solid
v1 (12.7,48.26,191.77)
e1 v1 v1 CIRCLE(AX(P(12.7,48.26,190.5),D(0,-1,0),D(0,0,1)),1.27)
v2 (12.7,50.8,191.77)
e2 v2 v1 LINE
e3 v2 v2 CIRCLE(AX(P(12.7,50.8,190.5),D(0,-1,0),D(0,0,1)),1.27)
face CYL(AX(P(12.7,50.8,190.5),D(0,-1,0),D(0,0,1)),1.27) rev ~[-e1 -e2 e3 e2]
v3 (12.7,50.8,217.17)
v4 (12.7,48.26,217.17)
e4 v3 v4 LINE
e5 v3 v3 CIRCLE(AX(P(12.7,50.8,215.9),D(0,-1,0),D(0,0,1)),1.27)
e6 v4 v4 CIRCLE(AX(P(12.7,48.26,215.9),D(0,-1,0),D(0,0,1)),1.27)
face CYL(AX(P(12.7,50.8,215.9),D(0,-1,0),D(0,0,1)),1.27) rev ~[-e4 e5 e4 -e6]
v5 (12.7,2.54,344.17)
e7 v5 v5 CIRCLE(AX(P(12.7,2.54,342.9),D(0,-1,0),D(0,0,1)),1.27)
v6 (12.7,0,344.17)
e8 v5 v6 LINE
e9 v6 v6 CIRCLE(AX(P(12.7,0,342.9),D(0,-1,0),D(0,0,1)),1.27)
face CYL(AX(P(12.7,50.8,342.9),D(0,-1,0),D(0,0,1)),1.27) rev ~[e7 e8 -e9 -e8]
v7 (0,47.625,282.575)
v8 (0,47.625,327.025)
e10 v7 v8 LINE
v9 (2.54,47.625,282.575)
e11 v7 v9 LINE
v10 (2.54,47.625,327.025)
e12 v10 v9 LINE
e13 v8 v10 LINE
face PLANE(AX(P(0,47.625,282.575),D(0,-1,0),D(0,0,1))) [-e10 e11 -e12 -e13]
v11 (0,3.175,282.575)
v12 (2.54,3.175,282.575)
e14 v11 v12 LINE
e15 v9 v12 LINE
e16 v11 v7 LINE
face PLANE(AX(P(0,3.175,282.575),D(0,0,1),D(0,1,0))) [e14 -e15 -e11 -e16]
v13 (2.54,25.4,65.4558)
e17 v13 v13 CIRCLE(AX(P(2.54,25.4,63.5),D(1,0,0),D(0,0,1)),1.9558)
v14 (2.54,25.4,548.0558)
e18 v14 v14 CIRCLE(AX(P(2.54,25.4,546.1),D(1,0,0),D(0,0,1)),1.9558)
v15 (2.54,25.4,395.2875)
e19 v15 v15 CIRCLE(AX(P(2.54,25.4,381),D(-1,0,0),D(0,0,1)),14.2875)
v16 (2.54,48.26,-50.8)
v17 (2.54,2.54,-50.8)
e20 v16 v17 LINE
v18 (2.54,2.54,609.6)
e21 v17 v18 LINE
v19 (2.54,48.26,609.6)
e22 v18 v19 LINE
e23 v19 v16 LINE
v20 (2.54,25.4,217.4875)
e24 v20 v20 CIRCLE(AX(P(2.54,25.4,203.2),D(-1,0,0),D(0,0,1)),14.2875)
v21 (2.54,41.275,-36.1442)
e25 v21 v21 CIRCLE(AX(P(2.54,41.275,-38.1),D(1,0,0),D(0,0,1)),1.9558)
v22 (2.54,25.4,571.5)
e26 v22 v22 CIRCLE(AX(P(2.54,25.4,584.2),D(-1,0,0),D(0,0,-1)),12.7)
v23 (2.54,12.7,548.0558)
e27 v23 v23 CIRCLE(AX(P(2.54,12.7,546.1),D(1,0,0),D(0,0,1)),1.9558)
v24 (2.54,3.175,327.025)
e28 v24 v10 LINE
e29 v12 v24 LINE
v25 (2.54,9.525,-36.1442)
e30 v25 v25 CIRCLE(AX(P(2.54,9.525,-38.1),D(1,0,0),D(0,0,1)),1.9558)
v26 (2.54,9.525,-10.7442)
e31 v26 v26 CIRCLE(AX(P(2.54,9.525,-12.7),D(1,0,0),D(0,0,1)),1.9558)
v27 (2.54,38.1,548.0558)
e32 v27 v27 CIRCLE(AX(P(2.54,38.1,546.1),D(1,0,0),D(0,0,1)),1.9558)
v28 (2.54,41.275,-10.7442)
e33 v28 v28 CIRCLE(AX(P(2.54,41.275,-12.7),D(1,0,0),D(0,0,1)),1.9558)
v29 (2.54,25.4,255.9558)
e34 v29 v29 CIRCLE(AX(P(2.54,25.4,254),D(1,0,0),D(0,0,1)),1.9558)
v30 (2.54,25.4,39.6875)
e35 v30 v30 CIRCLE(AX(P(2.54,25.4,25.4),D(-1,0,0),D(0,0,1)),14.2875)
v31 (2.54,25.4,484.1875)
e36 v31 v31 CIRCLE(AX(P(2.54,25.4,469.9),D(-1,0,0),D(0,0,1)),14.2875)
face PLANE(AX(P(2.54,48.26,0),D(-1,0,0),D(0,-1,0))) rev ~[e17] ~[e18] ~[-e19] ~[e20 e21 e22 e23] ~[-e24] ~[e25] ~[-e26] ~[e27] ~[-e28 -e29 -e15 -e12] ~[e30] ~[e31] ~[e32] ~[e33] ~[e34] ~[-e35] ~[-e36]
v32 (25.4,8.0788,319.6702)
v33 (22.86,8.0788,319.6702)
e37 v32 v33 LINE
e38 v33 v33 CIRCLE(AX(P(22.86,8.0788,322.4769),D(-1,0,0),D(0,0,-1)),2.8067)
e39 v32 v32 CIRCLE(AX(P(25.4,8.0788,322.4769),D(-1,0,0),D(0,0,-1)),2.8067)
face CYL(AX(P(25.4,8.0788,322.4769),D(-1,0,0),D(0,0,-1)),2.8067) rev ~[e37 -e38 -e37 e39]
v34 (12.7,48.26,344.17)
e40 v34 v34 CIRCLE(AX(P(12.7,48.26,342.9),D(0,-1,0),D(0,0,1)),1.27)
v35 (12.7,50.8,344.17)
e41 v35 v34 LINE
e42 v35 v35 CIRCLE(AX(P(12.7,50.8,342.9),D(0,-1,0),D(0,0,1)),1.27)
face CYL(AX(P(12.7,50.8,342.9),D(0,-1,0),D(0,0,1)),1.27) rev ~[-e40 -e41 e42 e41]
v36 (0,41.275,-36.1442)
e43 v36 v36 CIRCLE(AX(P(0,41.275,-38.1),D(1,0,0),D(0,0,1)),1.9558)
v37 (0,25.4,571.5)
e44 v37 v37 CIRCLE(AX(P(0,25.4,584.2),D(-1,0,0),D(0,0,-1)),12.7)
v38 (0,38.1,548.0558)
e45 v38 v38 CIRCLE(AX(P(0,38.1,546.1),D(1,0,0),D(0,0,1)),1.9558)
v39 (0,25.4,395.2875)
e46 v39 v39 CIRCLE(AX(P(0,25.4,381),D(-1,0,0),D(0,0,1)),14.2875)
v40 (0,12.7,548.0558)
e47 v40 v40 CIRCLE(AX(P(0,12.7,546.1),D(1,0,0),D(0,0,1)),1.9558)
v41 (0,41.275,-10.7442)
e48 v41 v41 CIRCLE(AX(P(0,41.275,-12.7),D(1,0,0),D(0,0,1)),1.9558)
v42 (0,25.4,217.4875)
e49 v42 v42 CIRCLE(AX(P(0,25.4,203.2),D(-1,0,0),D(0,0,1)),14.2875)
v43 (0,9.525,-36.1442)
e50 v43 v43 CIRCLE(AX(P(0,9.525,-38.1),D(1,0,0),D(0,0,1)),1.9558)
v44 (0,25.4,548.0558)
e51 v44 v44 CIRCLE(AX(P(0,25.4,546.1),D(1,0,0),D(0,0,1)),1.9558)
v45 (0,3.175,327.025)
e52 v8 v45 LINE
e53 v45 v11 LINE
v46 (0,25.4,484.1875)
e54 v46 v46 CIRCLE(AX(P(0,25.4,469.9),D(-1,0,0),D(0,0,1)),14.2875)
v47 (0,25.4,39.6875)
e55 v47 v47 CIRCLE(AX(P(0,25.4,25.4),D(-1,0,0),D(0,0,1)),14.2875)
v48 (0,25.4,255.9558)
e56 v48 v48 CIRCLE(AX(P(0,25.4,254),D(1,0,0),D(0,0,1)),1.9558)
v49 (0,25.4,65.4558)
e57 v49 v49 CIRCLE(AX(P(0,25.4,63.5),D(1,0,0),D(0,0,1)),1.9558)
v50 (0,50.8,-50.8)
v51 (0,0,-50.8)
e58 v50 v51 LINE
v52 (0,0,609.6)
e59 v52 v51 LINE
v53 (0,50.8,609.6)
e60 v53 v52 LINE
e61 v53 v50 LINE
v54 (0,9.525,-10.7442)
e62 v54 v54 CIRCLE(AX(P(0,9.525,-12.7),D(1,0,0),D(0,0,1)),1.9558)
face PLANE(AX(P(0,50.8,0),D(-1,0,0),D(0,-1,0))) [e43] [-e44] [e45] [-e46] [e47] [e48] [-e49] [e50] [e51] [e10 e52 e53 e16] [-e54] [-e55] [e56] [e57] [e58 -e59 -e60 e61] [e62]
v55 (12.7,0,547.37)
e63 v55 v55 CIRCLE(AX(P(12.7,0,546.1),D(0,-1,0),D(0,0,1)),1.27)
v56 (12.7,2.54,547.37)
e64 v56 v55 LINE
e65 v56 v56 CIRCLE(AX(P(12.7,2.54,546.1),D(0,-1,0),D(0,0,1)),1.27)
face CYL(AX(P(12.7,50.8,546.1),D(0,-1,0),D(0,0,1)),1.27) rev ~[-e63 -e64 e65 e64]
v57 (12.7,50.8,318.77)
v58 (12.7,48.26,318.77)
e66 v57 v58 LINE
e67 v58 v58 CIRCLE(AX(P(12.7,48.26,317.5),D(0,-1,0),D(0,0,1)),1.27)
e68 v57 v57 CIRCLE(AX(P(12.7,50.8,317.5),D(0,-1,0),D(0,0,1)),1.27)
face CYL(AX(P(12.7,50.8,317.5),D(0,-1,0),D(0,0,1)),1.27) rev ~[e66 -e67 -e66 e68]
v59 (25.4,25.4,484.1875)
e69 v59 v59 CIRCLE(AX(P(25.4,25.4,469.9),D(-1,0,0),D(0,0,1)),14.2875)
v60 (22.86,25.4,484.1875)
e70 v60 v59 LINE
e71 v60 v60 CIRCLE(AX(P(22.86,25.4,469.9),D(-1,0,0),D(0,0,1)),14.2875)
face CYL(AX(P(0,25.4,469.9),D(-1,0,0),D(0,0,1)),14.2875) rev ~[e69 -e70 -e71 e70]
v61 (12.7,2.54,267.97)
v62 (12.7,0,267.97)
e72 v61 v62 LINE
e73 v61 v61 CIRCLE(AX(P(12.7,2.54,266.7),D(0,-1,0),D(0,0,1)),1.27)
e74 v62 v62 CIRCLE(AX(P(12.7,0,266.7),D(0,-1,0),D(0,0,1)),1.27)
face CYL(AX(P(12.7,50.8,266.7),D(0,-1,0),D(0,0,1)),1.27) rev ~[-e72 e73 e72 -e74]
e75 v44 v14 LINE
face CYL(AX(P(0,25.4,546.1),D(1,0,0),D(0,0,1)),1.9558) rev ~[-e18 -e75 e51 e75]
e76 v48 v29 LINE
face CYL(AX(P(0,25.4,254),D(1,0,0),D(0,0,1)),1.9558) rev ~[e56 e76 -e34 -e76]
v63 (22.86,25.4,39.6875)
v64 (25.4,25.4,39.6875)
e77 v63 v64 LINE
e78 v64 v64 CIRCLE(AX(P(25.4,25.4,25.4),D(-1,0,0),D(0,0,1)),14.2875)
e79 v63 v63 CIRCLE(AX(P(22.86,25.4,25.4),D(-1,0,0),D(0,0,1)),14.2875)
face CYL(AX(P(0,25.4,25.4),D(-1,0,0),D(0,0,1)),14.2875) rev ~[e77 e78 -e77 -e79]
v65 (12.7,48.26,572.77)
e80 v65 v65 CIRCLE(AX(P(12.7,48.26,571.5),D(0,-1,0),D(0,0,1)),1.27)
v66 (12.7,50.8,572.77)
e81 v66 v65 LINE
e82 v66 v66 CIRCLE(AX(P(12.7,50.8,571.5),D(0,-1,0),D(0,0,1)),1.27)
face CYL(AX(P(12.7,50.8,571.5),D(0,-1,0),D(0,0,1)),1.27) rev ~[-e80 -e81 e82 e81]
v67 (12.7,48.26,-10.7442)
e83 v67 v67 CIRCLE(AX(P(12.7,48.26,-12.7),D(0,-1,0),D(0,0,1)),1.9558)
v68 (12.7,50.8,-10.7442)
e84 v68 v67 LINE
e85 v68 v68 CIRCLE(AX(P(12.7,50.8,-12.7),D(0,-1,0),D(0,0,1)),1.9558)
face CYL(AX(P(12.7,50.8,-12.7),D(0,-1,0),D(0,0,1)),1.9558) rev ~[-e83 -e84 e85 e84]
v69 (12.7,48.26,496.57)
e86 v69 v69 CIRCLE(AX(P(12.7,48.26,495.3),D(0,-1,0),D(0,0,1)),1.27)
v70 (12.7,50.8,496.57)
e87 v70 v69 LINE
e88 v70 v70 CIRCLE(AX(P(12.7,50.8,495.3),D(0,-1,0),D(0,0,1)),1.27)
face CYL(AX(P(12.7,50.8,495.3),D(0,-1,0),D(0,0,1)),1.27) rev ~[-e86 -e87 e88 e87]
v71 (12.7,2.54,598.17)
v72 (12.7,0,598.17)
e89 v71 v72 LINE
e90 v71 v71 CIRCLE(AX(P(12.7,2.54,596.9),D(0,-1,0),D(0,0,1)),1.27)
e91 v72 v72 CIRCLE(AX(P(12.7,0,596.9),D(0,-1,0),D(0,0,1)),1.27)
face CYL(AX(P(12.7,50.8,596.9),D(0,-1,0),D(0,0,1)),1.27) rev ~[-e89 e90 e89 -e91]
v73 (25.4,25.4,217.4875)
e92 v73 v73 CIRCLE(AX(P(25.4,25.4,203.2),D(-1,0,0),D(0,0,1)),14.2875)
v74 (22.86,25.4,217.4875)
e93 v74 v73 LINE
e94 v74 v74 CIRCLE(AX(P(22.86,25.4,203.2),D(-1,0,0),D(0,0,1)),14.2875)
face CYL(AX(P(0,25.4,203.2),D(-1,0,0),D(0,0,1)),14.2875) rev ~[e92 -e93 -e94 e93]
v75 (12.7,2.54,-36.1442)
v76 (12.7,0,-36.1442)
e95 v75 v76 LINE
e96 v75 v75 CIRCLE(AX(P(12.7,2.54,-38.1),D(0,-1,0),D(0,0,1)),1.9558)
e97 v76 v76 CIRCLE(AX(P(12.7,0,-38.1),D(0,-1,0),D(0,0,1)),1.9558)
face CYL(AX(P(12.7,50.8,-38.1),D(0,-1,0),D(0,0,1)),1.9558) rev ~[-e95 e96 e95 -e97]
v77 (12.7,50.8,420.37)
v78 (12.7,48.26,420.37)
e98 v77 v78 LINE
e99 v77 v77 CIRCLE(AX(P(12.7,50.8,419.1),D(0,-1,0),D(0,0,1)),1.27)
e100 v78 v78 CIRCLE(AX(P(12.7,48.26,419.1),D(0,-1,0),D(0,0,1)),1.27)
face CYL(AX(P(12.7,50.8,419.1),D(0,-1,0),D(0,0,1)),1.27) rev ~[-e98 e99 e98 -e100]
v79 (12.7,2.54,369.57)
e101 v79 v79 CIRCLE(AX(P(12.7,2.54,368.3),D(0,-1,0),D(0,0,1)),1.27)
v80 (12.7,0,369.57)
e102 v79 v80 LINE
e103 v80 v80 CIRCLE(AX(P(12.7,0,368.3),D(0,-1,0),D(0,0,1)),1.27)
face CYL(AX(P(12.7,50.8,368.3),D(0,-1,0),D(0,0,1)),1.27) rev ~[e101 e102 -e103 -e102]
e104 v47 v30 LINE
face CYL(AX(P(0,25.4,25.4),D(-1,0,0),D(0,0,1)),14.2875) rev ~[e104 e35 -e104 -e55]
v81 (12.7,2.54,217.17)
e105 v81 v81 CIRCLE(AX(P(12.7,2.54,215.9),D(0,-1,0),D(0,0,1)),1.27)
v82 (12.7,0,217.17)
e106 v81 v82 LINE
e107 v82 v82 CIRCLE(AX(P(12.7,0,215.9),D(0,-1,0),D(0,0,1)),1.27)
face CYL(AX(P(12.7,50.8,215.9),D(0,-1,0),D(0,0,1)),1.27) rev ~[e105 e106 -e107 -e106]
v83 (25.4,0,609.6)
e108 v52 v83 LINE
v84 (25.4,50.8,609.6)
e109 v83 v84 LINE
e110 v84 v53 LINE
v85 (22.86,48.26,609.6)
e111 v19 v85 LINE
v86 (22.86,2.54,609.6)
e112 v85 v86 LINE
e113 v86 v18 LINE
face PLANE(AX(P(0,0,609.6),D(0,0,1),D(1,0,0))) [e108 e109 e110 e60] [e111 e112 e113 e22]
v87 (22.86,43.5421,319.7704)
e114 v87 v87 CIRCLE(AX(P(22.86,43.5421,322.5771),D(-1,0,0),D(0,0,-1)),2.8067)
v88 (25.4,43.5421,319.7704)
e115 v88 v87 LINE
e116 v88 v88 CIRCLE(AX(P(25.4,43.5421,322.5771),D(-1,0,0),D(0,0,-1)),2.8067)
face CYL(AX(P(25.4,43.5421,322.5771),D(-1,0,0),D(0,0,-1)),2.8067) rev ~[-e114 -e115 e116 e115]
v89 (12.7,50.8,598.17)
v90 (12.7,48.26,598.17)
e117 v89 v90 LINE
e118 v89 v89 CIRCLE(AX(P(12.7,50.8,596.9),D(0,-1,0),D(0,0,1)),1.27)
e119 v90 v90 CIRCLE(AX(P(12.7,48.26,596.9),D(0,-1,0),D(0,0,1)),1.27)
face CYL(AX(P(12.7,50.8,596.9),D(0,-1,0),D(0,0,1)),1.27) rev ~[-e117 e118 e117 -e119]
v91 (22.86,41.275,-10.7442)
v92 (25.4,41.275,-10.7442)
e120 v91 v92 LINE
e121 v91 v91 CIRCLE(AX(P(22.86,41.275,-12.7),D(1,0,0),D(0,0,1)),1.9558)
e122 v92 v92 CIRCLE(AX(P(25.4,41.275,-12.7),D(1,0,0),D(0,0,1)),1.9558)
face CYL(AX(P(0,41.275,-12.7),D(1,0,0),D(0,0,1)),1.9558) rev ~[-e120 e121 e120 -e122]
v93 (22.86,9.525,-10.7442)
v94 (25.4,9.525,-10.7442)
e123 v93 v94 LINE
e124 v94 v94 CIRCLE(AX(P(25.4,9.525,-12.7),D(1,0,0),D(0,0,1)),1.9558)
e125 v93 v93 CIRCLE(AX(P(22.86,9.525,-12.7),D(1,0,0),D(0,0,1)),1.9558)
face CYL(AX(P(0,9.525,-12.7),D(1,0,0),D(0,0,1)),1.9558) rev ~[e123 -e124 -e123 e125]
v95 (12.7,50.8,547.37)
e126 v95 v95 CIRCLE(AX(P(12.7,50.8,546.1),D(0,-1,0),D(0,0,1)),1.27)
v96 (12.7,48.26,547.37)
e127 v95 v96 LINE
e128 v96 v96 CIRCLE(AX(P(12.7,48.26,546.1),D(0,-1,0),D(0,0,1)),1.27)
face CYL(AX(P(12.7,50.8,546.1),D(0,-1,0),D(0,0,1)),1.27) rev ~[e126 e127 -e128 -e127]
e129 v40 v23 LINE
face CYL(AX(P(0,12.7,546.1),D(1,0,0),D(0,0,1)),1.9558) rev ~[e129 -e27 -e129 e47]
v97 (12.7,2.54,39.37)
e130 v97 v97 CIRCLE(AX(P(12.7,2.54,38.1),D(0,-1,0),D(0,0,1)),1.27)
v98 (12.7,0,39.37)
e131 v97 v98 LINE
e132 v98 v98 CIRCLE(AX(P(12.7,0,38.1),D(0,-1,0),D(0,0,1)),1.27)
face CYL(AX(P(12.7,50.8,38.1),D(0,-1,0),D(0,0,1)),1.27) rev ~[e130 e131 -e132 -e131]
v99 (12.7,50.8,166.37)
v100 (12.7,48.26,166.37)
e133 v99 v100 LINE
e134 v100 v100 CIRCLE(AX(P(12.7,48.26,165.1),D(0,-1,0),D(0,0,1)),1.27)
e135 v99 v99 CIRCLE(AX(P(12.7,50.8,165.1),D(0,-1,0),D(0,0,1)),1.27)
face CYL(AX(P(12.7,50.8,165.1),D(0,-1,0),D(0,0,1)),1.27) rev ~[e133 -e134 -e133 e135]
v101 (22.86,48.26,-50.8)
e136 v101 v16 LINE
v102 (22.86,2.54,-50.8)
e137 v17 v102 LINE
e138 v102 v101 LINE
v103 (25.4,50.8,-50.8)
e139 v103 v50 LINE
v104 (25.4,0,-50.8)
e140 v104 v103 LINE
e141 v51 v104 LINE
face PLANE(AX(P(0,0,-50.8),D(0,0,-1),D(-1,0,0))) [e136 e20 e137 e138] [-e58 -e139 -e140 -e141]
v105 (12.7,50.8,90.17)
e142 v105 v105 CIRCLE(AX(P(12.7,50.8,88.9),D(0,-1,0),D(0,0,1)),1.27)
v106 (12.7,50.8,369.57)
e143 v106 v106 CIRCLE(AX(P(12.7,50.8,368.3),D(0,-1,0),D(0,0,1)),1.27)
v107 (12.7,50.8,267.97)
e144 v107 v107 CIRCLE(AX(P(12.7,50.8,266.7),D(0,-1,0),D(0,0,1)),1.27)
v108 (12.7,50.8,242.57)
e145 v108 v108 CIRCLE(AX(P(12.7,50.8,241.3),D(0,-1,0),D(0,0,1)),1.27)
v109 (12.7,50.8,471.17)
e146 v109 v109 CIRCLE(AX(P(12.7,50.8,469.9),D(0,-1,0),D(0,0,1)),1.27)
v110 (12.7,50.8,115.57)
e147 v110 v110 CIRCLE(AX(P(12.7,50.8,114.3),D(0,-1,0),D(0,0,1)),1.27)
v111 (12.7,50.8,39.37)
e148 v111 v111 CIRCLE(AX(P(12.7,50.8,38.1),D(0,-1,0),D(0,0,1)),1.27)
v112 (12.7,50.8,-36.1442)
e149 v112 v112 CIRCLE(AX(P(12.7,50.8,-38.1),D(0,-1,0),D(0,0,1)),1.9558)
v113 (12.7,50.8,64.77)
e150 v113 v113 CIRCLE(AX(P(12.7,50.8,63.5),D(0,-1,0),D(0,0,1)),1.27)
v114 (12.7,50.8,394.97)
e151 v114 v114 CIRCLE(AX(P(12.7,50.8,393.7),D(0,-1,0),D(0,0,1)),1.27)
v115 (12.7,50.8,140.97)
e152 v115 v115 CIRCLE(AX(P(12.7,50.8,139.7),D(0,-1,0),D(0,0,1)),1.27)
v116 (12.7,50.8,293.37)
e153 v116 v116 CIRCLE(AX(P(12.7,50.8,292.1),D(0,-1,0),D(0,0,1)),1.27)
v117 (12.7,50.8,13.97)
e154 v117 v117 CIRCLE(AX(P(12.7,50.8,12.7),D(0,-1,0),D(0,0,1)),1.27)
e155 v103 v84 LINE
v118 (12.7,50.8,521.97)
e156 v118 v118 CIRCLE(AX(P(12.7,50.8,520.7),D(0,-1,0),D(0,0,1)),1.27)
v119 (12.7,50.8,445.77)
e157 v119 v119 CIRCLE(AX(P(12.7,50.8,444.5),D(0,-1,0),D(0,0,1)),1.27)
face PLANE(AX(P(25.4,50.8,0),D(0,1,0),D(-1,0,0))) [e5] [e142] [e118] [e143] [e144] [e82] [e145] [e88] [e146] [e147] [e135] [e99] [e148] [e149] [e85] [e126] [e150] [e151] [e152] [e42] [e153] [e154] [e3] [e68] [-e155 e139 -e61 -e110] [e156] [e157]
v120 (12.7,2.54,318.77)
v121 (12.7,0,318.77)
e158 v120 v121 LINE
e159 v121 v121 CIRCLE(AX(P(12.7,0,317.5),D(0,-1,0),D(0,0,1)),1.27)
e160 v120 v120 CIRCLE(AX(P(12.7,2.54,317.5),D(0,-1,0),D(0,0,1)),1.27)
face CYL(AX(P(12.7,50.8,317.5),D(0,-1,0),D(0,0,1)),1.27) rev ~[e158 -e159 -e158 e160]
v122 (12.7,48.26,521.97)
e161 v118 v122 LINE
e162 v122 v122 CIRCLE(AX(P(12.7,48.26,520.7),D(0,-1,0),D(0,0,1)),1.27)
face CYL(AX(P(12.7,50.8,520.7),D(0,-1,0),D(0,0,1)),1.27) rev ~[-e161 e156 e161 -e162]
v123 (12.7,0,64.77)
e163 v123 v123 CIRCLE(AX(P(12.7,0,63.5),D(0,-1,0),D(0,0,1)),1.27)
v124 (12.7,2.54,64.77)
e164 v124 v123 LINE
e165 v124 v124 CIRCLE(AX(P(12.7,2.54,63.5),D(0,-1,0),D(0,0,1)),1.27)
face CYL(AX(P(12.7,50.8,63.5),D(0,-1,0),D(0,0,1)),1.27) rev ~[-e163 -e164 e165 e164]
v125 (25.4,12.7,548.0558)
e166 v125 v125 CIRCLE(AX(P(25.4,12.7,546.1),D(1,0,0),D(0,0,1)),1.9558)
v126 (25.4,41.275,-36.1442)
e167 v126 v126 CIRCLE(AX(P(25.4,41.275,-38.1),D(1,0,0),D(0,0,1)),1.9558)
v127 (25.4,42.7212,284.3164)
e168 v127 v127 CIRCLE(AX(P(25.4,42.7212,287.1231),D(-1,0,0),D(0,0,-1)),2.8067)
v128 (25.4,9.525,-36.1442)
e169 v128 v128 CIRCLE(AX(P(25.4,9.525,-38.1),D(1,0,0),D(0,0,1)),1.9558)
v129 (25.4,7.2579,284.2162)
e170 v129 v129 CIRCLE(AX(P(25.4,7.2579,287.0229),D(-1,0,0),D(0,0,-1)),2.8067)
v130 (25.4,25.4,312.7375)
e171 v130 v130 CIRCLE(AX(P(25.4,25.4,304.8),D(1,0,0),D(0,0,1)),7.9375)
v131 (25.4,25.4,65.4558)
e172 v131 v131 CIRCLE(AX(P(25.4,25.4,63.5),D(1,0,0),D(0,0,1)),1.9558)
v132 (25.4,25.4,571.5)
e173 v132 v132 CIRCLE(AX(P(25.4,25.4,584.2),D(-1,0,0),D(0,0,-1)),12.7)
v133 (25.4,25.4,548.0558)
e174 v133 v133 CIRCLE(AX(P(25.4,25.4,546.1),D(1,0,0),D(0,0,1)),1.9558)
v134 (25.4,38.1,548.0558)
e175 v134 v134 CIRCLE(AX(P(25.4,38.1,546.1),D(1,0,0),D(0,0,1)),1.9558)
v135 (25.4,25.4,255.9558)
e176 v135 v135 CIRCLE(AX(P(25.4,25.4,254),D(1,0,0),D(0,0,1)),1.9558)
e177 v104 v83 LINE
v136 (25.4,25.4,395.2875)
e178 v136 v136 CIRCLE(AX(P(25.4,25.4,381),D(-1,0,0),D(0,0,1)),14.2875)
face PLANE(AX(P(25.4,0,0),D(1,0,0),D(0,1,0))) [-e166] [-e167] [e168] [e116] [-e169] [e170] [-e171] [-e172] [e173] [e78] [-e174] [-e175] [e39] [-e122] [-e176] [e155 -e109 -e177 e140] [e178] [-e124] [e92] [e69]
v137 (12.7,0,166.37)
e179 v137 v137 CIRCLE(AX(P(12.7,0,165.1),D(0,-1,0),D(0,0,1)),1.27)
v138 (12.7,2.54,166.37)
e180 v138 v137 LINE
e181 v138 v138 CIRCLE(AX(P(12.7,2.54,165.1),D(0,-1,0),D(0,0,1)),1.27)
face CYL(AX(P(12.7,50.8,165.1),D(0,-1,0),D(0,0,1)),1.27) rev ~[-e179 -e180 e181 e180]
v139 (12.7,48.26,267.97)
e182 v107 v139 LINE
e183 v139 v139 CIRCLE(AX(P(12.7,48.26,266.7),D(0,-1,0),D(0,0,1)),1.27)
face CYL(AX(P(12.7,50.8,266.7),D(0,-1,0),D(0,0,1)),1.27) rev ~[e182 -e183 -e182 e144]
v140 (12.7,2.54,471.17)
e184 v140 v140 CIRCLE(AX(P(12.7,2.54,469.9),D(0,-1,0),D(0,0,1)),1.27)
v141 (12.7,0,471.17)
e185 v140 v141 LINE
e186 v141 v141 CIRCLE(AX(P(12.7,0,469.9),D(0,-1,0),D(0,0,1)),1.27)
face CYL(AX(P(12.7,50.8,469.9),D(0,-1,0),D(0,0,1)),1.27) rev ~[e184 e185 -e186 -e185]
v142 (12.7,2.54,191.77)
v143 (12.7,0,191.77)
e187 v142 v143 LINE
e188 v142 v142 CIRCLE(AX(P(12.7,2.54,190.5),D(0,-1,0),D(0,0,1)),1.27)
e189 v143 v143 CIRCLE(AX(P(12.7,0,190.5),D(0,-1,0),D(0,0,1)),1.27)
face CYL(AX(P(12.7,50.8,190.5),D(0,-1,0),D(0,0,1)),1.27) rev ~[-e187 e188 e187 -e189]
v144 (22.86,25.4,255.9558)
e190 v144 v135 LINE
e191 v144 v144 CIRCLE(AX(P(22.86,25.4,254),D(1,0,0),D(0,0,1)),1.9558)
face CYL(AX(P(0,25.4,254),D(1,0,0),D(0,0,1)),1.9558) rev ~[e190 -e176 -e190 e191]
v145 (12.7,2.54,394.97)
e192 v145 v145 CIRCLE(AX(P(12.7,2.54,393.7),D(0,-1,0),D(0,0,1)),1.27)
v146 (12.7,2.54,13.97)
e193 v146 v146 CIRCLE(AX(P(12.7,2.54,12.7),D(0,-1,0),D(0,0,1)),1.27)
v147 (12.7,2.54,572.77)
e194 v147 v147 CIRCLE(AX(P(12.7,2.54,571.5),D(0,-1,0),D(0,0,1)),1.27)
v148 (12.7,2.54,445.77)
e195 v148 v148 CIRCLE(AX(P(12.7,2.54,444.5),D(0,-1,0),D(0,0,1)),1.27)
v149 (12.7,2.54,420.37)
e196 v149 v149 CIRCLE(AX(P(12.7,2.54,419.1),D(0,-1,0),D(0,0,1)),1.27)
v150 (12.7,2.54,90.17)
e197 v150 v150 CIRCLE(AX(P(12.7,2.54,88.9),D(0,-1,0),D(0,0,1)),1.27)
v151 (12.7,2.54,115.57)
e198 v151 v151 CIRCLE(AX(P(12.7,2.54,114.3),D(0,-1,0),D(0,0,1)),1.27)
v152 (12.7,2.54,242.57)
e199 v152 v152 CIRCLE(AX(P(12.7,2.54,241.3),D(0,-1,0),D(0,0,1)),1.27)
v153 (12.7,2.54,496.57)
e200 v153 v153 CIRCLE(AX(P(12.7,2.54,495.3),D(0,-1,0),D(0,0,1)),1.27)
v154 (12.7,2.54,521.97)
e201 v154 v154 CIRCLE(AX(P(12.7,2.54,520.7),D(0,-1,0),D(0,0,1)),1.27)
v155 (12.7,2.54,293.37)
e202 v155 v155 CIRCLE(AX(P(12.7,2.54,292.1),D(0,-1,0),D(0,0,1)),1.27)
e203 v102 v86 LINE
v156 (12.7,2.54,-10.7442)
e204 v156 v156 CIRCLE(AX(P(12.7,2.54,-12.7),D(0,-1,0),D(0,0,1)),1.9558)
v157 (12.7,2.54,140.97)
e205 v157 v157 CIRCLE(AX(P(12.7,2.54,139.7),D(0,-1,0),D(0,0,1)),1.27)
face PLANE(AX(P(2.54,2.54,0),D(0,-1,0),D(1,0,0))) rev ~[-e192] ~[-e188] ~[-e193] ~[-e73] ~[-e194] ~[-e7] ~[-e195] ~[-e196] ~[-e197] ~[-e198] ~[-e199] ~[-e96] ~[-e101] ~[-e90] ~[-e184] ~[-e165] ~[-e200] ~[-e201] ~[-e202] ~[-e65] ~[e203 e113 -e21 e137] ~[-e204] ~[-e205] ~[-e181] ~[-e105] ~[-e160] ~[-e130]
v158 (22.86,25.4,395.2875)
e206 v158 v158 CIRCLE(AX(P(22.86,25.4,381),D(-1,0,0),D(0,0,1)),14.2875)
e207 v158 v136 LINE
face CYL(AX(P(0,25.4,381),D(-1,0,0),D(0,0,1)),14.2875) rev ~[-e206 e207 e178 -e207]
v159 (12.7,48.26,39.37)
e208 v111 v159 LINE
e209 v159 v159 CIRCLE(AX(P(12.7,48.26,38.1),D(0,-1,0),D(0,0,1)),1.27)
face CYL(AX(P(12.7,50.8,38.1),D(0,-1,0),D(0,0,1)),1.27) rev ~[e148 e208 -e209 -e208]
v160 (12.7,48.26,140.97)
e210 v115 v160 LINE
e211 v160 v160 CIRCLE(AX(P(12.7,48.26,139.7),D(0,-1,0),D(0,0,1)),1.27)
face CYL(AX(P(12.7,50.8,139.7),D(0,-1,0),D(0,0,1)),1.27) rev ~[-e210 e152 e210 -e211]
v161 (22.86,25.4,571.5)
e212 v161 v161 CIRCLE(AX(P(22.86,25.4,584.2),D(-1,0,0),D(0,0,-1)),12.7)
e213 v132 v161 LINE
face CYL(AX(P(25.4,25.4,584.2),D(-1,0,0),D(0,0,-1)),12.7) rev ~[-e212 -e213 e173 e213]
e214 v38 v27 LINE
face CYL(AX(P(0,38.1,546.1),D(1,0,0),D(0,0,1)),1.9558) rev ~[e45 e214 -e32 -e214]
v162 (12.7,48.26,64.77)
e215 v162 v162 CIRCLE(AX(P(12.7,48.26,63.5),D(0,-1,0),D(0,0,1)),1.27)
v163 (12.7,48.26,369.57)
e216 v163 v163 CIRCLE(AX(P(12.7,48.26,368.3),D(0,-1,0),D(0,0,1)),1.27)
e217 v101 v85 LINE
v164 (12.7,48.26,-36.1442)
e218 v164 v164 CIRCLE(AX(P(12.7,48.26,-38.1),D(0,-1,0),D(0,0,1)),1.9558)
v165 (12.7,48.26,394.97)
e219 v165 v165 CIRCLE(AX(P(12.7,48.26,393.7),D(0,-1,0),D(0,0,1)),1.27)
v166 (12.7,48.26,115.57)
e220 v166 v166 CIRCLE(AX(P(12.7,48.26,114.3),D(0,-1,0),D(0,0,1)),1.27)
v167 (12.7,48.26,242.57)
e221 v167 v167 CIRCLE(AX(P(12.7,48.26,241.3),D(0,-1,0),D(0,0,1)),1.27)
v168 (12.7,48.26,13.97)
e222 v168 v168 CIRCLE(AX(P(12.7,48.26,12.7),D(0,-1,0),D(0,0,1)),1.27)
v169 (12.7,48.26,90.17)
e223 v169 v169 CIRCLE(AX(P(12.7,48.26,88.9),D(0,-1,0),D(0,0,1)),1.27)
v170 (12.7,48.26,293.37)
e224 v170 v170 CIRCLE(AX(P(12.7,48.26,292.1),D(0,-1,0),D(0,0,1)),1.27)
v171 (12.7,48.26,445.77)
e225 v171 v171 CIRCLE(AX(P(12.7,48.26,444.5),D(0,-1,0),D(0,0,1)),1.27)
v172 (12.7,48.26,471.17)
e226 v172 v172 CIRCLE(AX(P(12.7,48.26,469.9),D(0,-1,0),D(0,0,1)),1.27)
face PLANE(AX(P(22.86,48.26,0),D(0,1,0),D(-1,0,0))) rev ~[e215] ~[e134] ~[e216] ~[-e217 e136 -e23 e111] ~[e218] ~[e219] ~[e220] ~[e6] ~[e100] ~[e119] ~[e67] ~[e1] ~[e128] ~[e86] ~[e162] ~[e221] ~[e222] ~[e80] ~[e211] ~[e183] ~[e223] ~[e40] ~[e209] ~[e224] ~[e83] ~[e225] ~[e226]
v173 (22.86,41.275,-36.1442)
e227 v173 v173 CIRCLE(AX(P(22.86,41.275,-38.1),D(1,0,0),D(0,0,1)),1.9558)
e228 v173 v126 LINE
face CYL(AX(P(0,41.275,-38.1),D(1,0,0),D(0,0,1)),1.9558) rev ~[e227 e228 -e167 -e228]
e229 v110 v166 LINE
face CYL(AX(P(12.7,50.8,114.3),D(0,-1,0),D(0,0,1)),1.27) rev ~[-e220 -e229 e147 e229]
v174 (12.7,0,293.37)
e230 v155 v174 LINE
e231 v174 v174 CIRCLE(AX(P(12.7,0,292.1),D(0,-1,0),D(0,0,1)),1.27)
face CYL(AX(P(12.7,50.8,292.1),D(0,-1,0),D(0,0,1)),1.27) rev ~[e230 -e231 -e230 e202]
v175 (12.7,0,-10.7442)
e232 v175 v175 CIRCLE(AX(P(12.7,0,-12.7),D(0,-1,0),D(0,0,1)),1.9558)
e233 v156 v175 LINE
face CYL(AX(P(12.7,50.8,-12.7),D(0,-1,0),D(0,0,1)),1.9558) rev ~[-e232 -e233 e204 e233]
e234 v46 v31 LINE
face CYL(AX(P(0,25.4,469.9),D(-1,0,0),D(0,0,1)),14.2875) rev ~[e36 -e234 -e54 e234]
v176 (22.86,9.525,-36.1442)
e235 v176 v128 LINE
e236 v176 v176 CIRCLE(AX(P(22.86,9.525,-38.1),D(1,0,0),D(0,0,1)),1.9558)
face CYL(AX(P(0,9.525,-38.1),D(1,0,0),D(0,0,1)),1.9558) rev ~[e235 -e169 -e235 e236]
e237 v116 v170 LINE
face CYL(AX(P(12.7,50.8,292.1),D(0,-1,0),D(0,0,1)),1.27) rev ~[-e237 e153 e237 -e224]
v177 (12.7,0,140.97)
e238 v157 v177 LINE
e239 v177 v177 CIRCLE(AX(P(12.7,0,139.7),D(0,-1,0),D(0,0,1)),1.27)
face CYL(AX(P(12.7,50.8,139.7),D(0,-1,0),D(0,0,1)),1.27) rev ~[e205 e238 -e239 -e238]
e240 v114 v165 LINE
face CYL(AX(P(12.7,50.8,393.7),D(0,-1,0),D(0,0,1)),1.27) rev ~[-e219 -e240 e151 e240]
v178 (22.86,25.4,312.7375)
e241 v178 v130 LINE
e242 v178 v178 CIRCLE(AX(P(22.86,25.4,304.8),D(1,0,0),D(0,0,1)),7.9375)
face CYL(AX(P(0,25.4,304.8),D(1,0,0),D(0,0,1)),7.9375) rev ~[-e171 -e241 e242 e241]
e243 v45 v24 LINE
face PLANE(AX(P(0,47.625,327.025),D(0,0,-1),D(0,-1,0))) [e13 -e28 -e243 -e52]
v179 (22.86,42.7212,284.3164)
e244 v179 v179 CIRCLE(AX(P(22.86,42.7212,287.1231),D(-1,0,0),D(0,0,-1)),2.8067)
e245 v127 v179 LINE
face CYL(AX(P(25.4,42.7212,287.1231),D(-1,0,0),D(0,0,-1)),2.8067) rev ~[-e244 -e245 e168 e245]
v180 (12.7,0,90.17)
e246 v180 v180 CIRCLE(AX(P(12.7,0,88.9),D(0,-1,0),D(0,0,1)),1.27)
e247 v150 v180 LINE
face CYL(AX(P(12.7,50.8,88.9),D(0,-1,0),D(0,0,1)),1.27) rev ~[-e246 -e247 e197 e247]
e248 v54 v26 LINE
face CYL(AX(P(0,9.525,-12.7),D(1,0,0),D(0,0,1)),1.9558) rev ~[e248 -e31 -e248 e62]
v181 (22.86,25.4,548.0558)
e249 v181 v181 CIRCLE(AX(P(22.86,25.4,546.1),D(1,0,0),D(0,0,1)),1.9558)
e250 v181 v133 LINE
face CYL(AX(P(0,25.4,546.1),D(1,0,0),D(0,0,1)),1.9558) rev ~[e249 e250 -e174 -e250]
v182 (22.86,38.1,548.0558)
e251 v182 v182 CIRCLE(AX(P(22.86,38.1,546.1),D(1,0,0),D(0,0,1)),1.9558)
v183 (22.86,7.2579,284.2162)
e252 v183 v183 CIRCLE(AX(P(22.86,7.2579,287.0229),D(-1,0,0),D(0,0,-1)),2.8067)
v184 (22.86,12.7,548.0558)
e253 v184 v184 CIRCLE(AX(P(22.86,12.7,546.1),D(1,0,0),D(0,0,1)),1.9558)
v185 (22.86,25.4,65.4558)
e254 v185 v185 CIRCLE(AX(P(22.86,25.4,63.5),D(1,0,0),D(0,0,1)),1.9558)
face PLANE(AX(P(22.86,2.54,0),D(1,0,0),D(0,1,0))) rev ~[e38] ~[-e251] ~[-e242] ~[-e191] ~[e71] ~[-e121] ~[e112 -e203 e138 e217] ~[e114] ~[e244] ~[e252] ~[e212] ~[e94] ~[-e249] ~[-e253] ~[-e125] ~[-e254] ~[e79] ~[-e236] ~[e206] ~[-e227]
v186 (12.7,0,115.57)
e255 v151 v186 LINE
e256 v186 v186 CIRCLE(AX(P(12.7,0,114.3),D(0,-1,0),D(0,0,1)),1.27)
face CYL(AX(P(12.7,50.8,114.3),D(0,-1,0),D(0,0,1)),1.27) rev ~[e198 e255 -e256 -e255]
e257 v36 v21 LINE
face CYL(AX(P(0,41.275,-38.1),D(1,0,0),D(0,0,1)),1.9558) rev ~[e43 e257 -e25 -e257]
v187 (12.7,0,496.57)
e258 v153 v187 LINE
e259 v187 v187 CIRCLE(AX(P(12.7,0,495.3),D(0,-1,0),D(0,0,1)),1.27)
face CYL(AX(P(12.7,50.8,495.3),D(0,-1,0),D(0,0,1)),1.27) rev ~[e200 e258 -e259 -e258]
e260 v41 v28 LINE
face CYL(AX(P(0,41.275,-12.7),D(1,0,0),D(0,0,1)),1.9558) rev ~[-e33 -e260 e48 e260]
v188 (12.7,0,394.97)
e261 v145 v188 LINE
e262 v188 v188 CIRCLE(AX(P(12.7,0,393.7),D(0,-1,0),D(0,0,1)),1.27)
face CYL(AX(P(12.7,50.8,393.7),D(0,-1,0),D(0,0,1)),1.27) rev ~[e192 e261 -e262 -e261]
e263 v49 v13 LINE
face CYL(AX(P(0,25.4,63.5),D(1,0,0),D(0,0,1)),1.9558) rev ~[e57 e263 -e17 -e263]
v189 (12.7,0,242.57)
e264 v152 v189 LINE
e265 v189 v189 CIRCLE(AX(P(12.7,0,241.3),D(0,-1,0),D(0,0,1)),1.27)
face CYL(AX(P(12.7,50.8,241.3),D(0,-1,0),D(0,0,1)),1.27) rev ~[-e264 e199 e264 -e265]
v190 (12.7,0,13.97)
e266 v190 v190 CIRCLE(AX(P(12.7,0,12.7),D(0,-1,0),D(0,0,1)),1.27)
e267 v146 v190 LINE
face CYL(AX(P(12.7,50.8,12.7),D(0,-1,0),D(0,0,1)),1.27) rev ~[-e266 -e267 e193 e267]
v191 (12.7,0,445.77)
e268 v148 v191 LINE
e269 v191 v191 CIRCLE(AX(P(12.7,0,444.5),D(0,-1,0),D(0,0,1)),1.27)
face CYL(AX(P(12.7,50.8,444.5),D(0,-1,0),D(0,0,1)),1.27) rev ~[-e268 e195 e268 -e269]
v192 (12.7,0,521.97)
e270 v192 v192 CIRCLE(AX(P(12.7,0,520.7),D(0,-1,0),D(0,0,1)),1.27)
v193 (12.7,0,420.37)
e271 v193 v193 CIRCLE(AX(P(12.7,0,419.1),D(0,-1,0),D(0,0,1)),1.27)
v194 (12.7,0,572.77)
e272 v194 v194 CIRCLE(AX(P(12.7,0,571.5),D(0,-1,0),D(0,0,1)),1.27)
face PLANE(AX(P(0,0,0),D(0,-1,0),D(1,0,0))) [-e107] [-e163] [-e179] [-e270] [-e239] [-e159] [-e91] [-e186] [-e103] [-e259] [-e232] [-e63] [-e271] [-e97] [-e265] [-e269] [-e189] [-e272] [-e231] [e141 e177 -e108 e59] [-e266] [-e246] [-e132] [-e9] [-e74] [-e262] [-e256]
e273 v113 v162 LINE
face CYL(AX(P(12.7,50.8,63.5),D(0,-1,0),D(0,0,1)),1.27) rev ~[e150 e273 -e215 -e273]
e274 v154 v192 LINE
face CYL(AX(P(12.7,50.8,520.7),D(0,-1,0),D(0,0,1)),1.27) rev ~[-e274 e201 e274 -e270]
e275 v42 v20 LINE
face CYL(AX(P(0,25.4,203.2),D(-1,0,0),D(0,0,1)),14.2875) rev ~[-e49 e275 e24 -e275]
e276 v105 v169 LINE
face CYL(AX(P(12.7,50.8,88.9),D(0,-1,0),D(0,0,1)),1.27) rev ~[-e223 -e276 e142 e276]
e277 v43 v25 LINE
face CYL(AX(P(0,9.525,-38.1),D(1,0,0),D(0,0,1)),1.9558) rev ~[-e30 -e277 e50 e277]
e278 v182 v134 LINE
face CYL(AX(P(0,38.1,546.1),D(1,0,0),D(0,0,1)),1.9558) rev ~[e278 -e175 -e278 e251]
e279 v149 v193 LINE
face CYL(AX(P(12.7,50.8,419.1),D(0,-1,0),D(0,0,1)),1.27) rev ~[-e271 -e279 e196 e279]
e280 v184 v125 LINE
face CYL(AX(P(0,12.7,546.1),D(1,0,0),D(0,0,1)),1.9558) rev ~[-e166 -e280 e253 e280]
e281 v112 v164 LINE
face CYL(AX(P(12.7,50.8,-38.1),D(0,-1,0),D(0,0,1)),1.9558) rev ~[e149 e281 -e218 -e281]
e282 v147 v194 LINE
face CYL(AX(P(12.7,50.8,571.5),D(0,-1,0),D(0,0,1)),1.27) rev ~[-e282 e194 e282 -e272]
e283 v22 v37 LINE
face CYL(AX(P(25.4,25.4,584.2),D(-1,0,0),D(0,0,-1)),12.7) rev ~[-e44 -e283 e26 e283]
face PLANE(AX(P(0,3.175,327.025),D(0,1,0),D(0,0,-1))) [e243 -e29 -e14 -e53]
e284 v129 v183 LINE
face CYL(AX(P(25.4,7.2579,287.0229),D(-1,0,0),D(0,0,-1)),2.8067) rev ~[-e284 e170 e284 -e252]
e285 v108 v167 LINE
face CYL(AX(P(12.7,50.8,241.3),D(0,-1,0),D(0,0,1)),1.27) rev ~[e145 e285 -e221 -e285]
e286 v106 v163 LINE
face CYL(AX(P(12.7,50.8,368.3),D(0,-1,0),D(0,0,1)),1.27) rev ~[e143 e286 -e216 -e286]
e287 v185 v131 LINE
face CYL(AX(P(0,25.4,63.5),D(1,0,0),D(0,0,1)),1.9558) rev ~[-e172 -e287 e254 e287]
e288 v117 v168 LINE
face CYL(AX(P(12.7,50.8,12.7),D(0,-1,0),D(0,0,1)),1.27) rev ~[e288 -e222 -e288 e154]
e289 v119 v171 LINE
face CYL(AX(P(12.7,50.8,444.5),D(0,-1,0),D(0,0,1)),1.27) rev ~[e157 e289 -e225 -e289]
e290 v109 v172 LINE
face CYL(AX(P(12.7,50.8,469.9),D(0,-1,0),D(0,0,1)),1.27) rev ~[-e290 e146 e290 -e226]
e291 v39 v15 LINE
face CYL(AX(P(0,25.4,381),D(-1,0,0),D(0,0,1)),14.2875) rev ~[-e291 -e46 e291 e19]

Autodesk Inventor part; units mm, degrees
ref_plane "YZ Plane" through (0, 0, 0) normal (1, 0, 0) x (0, 1, 0)
ref_plane "XZ Plane" through (0, 0, 0) normal (0, 1, 0) x (-1, 0, 0)
ref_plane "XY Plane" through (0, 0, 0) normal (0, 0, 1) x (1, 0, 0)
sketch "Sketch1" plane through (0, 0, 0) normal (0, 0, 1) x (1, 0, 0)
  line L0 (0, 0) -> (25.4, 0)
  line L1 (25.4, 0) -> (25.4, 50.8)
  line L2 (25.4, 50.8) -> (0, 50.8)
  line L3 (0, 50.8) -> (0, 0)
  dimension "d0" = 25.4
  dimension "d1" = 50.8
extrude "Extrusion1" add sketch "Sketch1" along normal blind 609.6
shell "Shell1" thickness 2.54 removed faces 2 at (8.4667, 33.8667, 0) at (8.4667, 33.8667, 609.6)
sketch "Sketch2" plane through (0, 50.8, 0) normal (0, 1, 0) x (1, 0, 0)
  line L0 (25.4, 0) -> (0, 0) projected
  line L1 (0, 0) -> (0, -609.6) projected
  point P0 (12.7, -12.7)
  point P1 (12.7, -38.1)
  point P2 (12.7, -63.5)
  point P3 (12.7, -88.9)
  point P4 (12.7, -114.3)
  point P5 (12.7, -139.7)
  point P6 (12.7, -165.1)
  point P7 (12.7, -190.5)
  point P8 (12.7, -215.9)
  point P9 (12.7, -241.3)
  point P10 (12.7, -266.7)
  point P11 (12.7, -292.1)
  point P12 (12.7, -317.5)
  point P13 (12.7, -342.9)
  point P14 (12.7, -368.3)
  point P15 (12.7, -393.7)
  point P16 (12.7, -419.1)
  point P17 (12.7, -444.5)
  point P18 (12.7, -469.9)
  point P19 (12.7, -495.3)
  point P20 (12.7, -520.7)
  point P21 (12.7, -546.1)
  point P22 (12.7, -571.5)
  point P23 (12.7, -596.9)
  point P24 (12.7, -622.3)
  point P25 (12.7, -647.7)
  point P26 (12.7, -673.1)
  point P27 (12.7, -698.5)
  point P28 (12.7, -723.9)
  point P29 (12.7, -749.3)
  point P30 (12.7, -774.7)
  point P31 (12.7, -800.1)
  point P32 (12.7, -825.5)
  point P33 (12.7, -850.9)
  point P34 (12.7, -876.3)
  point P35 (12.7, -901.7)
  point P36 (12.7, -927.1)
  dimension "d5" = 12.7
  dimension "d6" = 12.7
  dimension "d9" = 25.4
hole "Hole1" at (12.7, 50.8, 12.7) at (12.7, 50.8, 38.1) at (12.7, 50.8, 63.5) at (12.7, 50.8, 88.9) at (12.7, 50.8, 114.3) at (12.7, 50.8, 139.7) at (12.7, 50.8, 165.1) at (12.7, 50.8, 190.5) at (12.7, 50.8, 215.9) at (12.7, 50.8, 241.3) at (12.7, 50.8, 266.7) at (12.7, 50.8, 292.1) at (12.7, 50.8, 317.5) at (12.7, 50.8, 342.9) at (12.7, 50.8, 368.3) at (12.7, 50.8, 393.7) at (12.7, 50.8, 419.1) at (12.7, 50.8, 444.5) at (12.7, 50.8, 469.9) at (12.7, 50.8, 495.3) at (12.7, 50.8, 520.7) at (12.7, 50.8, 546.1) at (12.7, 50.8, 571.5) at (12.7, 50.8, 596.9) at (12.7, 50.8, 622.3) at (12.7, 50.8, 647.7) at (12.7, 50.8, 673.1) at (12.7, 50.8, 698.5) at (12.7, 50.8, 723.9) at (12.7, 50.8, 749.3) at (12.7, 50.8, 774.7) at (12.7, 50.8, 800.1) at (12.7, 50.8, 825.5) at (12.7, 50.8, 850.9) at (12.7, 50.8, 876.3) at (12.7, 50.8, 901.7) direction (0, -1, 0) diameter 2.54 depth 50.8 tip angle 118
sketch "Sketch6" plane through (0, 0, 0) normal (-1, 0, 0) x (0, 0, 1)
  line L0 (0, 50.8) -> (0, 0) projected
  line L1 (0, 0) -> (609.6, 0) projected
  point P0 (304.8, 25.4)
  dimension "d48" = 304.8
  dimension "d49" = 25.4
hole "Hole5" at (0, 25.4, 304.8) direction (1, 0, 0) diameter 15.875 depth 25.4 tip angle 118
sketch "Sketch7" plane through (25.4, 0, 0) normal (1, 0, 0) x (0, 0, -1)
  line L0 (0, 50.8) -> (-609.6, 50.8) projected
  circle A0 centre (-304.8, 25.4) radius 7.9375 projected
  point P0 (0, 0)
  point P1 (-584.2, 25.4)
  dimension "d57" = 25.4
  dimension "d58" = 279.4
hole "Hole6" at (25.4, 25.4, 584.2) direction (-1, 0, 0) diameter 25.4 depth 25.4 tip angle 118
sketch "Sketch8" plane through (0, 0, 0) normal (-1, 0, 0) x (0, 0, 1)
  circle A0 centre (304.8, 25.4) radius 7.9375 projected
  line L0 (282.575, 47.625) -> (327.025, 47.625)
  line L1 (327.025, 47.625) -> (327.025, 3.175)
  line L2 (327.025, 3.175) -> (282.575, 3.175)
  line L3 (282.575, 3.175) -> (282.575, 47.625)
  line L4 (282.575, 47.625) -> (327.025, 3.175) construction
  line L5 (327.025, 47.625) -> (282.575, 3.175) construction
  point P0 (0, 0)
  dimension "d66" = 44.45
  dimension "d67" = 44.45
extrude "Extrusion2" cut sketch "Sketch8" against normal blind 12.7 contours A0 | L0 L1 L2 L3
sketch "Sketch9" plane through (25.4, 0, 0) normal (1, 0, 0) x (0, 0, -1)
  arc A0 (-320.6117, 44.0059) -> (-323.0807, 41.5866) centre (-322.5771, 43.5421) ccw projected
  arc A1 (-288.9883, 6.7941) -> (-286.5193, 9.2134) centre (-287.0229, 7.2579) ccw projected
  circle A2 centre (-322.4769, 8.0788) radius 3.3655 projected
  circle A3 centre (-287.1231, 42.7212) radius 3.1115 projected
  point P0 (0, 0)
hole "Hole7" at (25.4, 8.0788, 322.4769) at (25.4, 43.5421, 322.5771) at (25.4, 42.7212, 287.1231) at (25.4, 7.2579, 287.0229) direction (-1, 0, 0) diameter 5.6134 depth 25.4 tip angle 118 clearance for "Flat Head Machine Screw (82)" size "#10" standard "Ansi Unified Screw Threads"
sketch "Sketch10" plane through (0, 0, 0) normal (0, 0, -1) x (-1, 0, 0)
  line L0 (-2.54, 48.26) -> (-2.54, 2.54) projected
  line L1 (-2.54, 2.54) -> (-22.86, 2.54) projected
  line L2 (-22.86, 2.54) -> (-22.86, 48.26) projected
  line L3 (-22.86, 48.26) -> (-2.54, 48.26) projected
  line L4 (0, 0) -> (-25.4, 0) projected
  line L5 (0, 50.8) -> (0, 0) projected
  line L6 (-25.4, 50.8) -> (0, 50.8) projected
  line L7 (-25.4, 0) -> (-25.4, 50.8) projected
extrude "Extrusion3" add sketch "Sketch10" along normal blind 50.8
sketch "Sketch11" plane through (0, 50.8, 609.6) normal (0, 1, 0) x (1, 0, 0)
  circle A0 centre (12.7, 596.9) radius 1.27 projected
  line L0 (25.4, 660.4) -> (25.4, 0) projected
  point P0 (0, 609.6)
  point P1 (12.7, 622.3)
  point P2 (12.7, 647.7)
  dimension "d79" = 25.4
  dimension "d80" = 25.4
  dimension "d81" = 12.7
  dimension "d82" = 12.7
hole "Hole8" at (12.7, 50.8, -12.7) at (12.7, 50.8, -38.1) direction (0, -1, 0) diameter 3.9116 depth 50.8 tip angle 118 clearance for "Flat Head Machine Screw (82)" size "#5" standard "Ansi Unified Screw Threads"
sketch "Sketch12" plane through (0, 0, 609.6) normal (-1, 0, 0) x (0, 0, 1)
  circle A0 centre (-63.5, 25.4) radius 1.27 projected
  line L0 (0, 0) -> (-660.4, 0) projected
  line L1 (-660.4, 50.8) -> (0, 50.8) projected
  point P0 (-609.6, 0)
  point P1 (-63.5, 38.1)
  point P2 (-63.5, 12.7)
  dimension "d90" = 12.7
  dimension "d91" = 12.7
  dimension "d106" = 0
  dimension "d107" = 0
hole "Hole9" at (0, 25.4, 546.1) at (0, 38.1, 546.1) at (0, 12.7, 546.1) direction (1, 0, 0) diameter 3.9116 depth 50.8 tip angle 118 clearance for "Flat Head Machine Screw (82)" size "#5" standard "Ansi Unified Screw Threads"
sketch "Sketch13" plane through (0, 0, 609.6) normal (-1, 0, 0) x (0, 0, 1)
  circle A0 centre (-622.3, 533.4) radius 2.8067 projected
  circle A1 centre (-647.7, 533.4) radius 2.8067 projected
  circle A2 centre (-622.3, 584.2) radius 2.8067 projected
  circle A3 centre (-647.7, 584.2) radius 2.8067 projected
  circle A4 centre (-635, 558.8) radius 2.8067 projected
  circle A5 centre (-635, 190.5) radius 2.8067 projected
  circle A6 centre (-635, 762) radius 2.8067 projected
  circle A7 centre (-622.3, 762) radius 2.8067 projected
  circle A8 centre (-622.3, 558.8) radius 2.8067 projected
  circle A9 centre (-622.3, 190.5) radius 2.8067 projected
  circle A10 centre (-647.7, 190.5) radius 2.8067 projected
  circle A11 centre (-647.7, 558.8) radius 2.8067 projected
  circle A12 centre (-647.7, 762) radius 2.8067 projected
  circle A13 centre (-647.7, 41.275) radius 2.8067 projected
  circle A14 centre (-622.3, 41.275) radius 2.8067 projected
  circle A15 centre (-647.7, 9.525) radius 2.8067 projected
  circle A16 centre (-622.3, 9.525) radius 2.8067 projected
  circle A17 centre (-635, 374.65) radius 14.2875 projected
  circle A18 centre (-635, 114.3) radius 14.2875 projected
  circle A19 centre (-635, 730.25) radius 6.35 projected
  circle A20 centre (-635, 615.95) radius 6.35 projected
  circle A21 centre (-635, 649.2875) radius 2.8067 projected
  circle A22 centre (-635, 696.9125) radius 2.8067 projected
  circle A23 centre (-635, 673.1) radius 19.05 projected
  line L0 (-609.6, 774.7) -> (-660.4, 774.7) projected
  line L1 (-660.4, 774.7) -> (-660.4, -25.4) projected
  line L2 (-609.6, -25.4) -> (-660.4, -25.4) projected
  line L3 (-609.6, 774.7) -> (-609.6, -25.4) projected
  point P0 (-609.6, 0)
hole "Hole10" at (0, 41.275, -12.7) at (0, 9.525, -12.7) at (0, 9.525, -38.1) at (0, 41.275, -38.1) direction (1, 0, 0) diameter 3.9116 depth 50.8 tip angle 118 clearance for "Flat Head Machine Screw (82)" size "#5" standard "Ansi Unified Screw Threads"
sketch "Sketch14" plane through (0, 0, 609.6) normal (-1, 0, 0) x (0, 0, 1)
  circle A0 centre (-139.7, 25.4) radius 14.2875
  line L0 (-76.2, 546.1) -> (-76.2, 0) projected
  line L1 (0, 0) -> (-660.4, 0) projected
  point P0 (-609.6, 0)
  dimension "d108" = 63.5
  dimension "d109" = 28.575
  dimension "d110" = 25.4
extrude "Extrusion4" cut sketch "Sketch14" against normal blind 50.8
sketch "Sketch15" plane through (0, 0, 609.6) normal (-1, 0, 0) x (0, 0, 1)
  line L0 (0, 0) -> (-660.4, 0) projected
  line L1 (-660.4, 0) -> (-660.4, 50.8) projected
  point P0 (-609.6, 0)
  point P1 (-355.6, 25.4)
  dimension "d113" = 25.4
  dimension "d114" = 304.8
hole "Hole11" at (0, 25.4, 254) direction (1, 0, 0) diameter 3.9116 depth 50.8 tip angle 118 clearance for "Flat Head Machine Screw (82)" size "#5" standard "Ansi Unified Screw Threads"
sketch "Sketch16" plane through (0, 0, 609.6) normal (-1, 0, 0) x (0, 0, 1)
  circle A0 centre (-546.1, 25.4) radius 1.27 projected
  point P0 (-609.6, 0)
hole "Hole12" at (0, 25.4, 63.5) direction (1, 0, 0) diameter 3.9116 depth 50.8 tip angle 118 clearance for "Flat Head Machine Screw (82)" size "#5" standard "Ansi Unified Screw Threads"
sketch "Sketch17" plane through (0, 0, 609.6) normal (-1, 0, 0) x (0, 0, 1)
  circle A0 centre (-584.2, 25.4) radius 14.2875
  line L0 (0, 0) -> (-660.4, 0) projected
  line L1 (-660.4, 0) -> (-660.4, 50.8) projected
  point P0 (-609.6, 0)
  dimension "d129" = 28.575
  dimension "d130" = 25.4
  dimension "d131" = 76.2
extrude "Extrusion5" cut sketch "Sketch17" against normal blind 50.8
sketch "Sketch18" plane through (0, 0, 609.6) normal (-1, 0, 0) x (0, 0, 1)
  circle A0 centre (-228.6, 25.4) radius 14.2875
  line L0 (0, 0) -> (-660.4, 0) projected
  circle A1 centre (-584.2, 25.4) radius 14.2875 projected
  point P0 (-609.6, 0)
  dimension "d134" = 28.575
  dimension "d135" = 25.4
  dimension "d136" = 355.6
extrude "Extrusion6" cut sketch "Sketch18" against normal blind 50.8 contours A0
sketch "Sketch19" plane through (0, 0, 609.6) normal (-1, 0, 0) x (0, 0, 1)
  circle A0 centre (-406.4, 25.4) radius 14.2875
  line L0 (0, 0) -> (-660.4, 0) projected
  circle A1 centre (-584.2, 25.4) radius 14.2875 projected
  point P0 (-609.6, 0)
  dimension "d139" = 25.4
  dimension "d140" = 177.8
  dimension "d141" = 28.575
extrude "Extrusion7" cut sketch "Sketch19" against normal blind 50.8 contours A0
equation "\"d67\" = d66"
properties part number "Vert Uprights" material "Aluminum 6061"
